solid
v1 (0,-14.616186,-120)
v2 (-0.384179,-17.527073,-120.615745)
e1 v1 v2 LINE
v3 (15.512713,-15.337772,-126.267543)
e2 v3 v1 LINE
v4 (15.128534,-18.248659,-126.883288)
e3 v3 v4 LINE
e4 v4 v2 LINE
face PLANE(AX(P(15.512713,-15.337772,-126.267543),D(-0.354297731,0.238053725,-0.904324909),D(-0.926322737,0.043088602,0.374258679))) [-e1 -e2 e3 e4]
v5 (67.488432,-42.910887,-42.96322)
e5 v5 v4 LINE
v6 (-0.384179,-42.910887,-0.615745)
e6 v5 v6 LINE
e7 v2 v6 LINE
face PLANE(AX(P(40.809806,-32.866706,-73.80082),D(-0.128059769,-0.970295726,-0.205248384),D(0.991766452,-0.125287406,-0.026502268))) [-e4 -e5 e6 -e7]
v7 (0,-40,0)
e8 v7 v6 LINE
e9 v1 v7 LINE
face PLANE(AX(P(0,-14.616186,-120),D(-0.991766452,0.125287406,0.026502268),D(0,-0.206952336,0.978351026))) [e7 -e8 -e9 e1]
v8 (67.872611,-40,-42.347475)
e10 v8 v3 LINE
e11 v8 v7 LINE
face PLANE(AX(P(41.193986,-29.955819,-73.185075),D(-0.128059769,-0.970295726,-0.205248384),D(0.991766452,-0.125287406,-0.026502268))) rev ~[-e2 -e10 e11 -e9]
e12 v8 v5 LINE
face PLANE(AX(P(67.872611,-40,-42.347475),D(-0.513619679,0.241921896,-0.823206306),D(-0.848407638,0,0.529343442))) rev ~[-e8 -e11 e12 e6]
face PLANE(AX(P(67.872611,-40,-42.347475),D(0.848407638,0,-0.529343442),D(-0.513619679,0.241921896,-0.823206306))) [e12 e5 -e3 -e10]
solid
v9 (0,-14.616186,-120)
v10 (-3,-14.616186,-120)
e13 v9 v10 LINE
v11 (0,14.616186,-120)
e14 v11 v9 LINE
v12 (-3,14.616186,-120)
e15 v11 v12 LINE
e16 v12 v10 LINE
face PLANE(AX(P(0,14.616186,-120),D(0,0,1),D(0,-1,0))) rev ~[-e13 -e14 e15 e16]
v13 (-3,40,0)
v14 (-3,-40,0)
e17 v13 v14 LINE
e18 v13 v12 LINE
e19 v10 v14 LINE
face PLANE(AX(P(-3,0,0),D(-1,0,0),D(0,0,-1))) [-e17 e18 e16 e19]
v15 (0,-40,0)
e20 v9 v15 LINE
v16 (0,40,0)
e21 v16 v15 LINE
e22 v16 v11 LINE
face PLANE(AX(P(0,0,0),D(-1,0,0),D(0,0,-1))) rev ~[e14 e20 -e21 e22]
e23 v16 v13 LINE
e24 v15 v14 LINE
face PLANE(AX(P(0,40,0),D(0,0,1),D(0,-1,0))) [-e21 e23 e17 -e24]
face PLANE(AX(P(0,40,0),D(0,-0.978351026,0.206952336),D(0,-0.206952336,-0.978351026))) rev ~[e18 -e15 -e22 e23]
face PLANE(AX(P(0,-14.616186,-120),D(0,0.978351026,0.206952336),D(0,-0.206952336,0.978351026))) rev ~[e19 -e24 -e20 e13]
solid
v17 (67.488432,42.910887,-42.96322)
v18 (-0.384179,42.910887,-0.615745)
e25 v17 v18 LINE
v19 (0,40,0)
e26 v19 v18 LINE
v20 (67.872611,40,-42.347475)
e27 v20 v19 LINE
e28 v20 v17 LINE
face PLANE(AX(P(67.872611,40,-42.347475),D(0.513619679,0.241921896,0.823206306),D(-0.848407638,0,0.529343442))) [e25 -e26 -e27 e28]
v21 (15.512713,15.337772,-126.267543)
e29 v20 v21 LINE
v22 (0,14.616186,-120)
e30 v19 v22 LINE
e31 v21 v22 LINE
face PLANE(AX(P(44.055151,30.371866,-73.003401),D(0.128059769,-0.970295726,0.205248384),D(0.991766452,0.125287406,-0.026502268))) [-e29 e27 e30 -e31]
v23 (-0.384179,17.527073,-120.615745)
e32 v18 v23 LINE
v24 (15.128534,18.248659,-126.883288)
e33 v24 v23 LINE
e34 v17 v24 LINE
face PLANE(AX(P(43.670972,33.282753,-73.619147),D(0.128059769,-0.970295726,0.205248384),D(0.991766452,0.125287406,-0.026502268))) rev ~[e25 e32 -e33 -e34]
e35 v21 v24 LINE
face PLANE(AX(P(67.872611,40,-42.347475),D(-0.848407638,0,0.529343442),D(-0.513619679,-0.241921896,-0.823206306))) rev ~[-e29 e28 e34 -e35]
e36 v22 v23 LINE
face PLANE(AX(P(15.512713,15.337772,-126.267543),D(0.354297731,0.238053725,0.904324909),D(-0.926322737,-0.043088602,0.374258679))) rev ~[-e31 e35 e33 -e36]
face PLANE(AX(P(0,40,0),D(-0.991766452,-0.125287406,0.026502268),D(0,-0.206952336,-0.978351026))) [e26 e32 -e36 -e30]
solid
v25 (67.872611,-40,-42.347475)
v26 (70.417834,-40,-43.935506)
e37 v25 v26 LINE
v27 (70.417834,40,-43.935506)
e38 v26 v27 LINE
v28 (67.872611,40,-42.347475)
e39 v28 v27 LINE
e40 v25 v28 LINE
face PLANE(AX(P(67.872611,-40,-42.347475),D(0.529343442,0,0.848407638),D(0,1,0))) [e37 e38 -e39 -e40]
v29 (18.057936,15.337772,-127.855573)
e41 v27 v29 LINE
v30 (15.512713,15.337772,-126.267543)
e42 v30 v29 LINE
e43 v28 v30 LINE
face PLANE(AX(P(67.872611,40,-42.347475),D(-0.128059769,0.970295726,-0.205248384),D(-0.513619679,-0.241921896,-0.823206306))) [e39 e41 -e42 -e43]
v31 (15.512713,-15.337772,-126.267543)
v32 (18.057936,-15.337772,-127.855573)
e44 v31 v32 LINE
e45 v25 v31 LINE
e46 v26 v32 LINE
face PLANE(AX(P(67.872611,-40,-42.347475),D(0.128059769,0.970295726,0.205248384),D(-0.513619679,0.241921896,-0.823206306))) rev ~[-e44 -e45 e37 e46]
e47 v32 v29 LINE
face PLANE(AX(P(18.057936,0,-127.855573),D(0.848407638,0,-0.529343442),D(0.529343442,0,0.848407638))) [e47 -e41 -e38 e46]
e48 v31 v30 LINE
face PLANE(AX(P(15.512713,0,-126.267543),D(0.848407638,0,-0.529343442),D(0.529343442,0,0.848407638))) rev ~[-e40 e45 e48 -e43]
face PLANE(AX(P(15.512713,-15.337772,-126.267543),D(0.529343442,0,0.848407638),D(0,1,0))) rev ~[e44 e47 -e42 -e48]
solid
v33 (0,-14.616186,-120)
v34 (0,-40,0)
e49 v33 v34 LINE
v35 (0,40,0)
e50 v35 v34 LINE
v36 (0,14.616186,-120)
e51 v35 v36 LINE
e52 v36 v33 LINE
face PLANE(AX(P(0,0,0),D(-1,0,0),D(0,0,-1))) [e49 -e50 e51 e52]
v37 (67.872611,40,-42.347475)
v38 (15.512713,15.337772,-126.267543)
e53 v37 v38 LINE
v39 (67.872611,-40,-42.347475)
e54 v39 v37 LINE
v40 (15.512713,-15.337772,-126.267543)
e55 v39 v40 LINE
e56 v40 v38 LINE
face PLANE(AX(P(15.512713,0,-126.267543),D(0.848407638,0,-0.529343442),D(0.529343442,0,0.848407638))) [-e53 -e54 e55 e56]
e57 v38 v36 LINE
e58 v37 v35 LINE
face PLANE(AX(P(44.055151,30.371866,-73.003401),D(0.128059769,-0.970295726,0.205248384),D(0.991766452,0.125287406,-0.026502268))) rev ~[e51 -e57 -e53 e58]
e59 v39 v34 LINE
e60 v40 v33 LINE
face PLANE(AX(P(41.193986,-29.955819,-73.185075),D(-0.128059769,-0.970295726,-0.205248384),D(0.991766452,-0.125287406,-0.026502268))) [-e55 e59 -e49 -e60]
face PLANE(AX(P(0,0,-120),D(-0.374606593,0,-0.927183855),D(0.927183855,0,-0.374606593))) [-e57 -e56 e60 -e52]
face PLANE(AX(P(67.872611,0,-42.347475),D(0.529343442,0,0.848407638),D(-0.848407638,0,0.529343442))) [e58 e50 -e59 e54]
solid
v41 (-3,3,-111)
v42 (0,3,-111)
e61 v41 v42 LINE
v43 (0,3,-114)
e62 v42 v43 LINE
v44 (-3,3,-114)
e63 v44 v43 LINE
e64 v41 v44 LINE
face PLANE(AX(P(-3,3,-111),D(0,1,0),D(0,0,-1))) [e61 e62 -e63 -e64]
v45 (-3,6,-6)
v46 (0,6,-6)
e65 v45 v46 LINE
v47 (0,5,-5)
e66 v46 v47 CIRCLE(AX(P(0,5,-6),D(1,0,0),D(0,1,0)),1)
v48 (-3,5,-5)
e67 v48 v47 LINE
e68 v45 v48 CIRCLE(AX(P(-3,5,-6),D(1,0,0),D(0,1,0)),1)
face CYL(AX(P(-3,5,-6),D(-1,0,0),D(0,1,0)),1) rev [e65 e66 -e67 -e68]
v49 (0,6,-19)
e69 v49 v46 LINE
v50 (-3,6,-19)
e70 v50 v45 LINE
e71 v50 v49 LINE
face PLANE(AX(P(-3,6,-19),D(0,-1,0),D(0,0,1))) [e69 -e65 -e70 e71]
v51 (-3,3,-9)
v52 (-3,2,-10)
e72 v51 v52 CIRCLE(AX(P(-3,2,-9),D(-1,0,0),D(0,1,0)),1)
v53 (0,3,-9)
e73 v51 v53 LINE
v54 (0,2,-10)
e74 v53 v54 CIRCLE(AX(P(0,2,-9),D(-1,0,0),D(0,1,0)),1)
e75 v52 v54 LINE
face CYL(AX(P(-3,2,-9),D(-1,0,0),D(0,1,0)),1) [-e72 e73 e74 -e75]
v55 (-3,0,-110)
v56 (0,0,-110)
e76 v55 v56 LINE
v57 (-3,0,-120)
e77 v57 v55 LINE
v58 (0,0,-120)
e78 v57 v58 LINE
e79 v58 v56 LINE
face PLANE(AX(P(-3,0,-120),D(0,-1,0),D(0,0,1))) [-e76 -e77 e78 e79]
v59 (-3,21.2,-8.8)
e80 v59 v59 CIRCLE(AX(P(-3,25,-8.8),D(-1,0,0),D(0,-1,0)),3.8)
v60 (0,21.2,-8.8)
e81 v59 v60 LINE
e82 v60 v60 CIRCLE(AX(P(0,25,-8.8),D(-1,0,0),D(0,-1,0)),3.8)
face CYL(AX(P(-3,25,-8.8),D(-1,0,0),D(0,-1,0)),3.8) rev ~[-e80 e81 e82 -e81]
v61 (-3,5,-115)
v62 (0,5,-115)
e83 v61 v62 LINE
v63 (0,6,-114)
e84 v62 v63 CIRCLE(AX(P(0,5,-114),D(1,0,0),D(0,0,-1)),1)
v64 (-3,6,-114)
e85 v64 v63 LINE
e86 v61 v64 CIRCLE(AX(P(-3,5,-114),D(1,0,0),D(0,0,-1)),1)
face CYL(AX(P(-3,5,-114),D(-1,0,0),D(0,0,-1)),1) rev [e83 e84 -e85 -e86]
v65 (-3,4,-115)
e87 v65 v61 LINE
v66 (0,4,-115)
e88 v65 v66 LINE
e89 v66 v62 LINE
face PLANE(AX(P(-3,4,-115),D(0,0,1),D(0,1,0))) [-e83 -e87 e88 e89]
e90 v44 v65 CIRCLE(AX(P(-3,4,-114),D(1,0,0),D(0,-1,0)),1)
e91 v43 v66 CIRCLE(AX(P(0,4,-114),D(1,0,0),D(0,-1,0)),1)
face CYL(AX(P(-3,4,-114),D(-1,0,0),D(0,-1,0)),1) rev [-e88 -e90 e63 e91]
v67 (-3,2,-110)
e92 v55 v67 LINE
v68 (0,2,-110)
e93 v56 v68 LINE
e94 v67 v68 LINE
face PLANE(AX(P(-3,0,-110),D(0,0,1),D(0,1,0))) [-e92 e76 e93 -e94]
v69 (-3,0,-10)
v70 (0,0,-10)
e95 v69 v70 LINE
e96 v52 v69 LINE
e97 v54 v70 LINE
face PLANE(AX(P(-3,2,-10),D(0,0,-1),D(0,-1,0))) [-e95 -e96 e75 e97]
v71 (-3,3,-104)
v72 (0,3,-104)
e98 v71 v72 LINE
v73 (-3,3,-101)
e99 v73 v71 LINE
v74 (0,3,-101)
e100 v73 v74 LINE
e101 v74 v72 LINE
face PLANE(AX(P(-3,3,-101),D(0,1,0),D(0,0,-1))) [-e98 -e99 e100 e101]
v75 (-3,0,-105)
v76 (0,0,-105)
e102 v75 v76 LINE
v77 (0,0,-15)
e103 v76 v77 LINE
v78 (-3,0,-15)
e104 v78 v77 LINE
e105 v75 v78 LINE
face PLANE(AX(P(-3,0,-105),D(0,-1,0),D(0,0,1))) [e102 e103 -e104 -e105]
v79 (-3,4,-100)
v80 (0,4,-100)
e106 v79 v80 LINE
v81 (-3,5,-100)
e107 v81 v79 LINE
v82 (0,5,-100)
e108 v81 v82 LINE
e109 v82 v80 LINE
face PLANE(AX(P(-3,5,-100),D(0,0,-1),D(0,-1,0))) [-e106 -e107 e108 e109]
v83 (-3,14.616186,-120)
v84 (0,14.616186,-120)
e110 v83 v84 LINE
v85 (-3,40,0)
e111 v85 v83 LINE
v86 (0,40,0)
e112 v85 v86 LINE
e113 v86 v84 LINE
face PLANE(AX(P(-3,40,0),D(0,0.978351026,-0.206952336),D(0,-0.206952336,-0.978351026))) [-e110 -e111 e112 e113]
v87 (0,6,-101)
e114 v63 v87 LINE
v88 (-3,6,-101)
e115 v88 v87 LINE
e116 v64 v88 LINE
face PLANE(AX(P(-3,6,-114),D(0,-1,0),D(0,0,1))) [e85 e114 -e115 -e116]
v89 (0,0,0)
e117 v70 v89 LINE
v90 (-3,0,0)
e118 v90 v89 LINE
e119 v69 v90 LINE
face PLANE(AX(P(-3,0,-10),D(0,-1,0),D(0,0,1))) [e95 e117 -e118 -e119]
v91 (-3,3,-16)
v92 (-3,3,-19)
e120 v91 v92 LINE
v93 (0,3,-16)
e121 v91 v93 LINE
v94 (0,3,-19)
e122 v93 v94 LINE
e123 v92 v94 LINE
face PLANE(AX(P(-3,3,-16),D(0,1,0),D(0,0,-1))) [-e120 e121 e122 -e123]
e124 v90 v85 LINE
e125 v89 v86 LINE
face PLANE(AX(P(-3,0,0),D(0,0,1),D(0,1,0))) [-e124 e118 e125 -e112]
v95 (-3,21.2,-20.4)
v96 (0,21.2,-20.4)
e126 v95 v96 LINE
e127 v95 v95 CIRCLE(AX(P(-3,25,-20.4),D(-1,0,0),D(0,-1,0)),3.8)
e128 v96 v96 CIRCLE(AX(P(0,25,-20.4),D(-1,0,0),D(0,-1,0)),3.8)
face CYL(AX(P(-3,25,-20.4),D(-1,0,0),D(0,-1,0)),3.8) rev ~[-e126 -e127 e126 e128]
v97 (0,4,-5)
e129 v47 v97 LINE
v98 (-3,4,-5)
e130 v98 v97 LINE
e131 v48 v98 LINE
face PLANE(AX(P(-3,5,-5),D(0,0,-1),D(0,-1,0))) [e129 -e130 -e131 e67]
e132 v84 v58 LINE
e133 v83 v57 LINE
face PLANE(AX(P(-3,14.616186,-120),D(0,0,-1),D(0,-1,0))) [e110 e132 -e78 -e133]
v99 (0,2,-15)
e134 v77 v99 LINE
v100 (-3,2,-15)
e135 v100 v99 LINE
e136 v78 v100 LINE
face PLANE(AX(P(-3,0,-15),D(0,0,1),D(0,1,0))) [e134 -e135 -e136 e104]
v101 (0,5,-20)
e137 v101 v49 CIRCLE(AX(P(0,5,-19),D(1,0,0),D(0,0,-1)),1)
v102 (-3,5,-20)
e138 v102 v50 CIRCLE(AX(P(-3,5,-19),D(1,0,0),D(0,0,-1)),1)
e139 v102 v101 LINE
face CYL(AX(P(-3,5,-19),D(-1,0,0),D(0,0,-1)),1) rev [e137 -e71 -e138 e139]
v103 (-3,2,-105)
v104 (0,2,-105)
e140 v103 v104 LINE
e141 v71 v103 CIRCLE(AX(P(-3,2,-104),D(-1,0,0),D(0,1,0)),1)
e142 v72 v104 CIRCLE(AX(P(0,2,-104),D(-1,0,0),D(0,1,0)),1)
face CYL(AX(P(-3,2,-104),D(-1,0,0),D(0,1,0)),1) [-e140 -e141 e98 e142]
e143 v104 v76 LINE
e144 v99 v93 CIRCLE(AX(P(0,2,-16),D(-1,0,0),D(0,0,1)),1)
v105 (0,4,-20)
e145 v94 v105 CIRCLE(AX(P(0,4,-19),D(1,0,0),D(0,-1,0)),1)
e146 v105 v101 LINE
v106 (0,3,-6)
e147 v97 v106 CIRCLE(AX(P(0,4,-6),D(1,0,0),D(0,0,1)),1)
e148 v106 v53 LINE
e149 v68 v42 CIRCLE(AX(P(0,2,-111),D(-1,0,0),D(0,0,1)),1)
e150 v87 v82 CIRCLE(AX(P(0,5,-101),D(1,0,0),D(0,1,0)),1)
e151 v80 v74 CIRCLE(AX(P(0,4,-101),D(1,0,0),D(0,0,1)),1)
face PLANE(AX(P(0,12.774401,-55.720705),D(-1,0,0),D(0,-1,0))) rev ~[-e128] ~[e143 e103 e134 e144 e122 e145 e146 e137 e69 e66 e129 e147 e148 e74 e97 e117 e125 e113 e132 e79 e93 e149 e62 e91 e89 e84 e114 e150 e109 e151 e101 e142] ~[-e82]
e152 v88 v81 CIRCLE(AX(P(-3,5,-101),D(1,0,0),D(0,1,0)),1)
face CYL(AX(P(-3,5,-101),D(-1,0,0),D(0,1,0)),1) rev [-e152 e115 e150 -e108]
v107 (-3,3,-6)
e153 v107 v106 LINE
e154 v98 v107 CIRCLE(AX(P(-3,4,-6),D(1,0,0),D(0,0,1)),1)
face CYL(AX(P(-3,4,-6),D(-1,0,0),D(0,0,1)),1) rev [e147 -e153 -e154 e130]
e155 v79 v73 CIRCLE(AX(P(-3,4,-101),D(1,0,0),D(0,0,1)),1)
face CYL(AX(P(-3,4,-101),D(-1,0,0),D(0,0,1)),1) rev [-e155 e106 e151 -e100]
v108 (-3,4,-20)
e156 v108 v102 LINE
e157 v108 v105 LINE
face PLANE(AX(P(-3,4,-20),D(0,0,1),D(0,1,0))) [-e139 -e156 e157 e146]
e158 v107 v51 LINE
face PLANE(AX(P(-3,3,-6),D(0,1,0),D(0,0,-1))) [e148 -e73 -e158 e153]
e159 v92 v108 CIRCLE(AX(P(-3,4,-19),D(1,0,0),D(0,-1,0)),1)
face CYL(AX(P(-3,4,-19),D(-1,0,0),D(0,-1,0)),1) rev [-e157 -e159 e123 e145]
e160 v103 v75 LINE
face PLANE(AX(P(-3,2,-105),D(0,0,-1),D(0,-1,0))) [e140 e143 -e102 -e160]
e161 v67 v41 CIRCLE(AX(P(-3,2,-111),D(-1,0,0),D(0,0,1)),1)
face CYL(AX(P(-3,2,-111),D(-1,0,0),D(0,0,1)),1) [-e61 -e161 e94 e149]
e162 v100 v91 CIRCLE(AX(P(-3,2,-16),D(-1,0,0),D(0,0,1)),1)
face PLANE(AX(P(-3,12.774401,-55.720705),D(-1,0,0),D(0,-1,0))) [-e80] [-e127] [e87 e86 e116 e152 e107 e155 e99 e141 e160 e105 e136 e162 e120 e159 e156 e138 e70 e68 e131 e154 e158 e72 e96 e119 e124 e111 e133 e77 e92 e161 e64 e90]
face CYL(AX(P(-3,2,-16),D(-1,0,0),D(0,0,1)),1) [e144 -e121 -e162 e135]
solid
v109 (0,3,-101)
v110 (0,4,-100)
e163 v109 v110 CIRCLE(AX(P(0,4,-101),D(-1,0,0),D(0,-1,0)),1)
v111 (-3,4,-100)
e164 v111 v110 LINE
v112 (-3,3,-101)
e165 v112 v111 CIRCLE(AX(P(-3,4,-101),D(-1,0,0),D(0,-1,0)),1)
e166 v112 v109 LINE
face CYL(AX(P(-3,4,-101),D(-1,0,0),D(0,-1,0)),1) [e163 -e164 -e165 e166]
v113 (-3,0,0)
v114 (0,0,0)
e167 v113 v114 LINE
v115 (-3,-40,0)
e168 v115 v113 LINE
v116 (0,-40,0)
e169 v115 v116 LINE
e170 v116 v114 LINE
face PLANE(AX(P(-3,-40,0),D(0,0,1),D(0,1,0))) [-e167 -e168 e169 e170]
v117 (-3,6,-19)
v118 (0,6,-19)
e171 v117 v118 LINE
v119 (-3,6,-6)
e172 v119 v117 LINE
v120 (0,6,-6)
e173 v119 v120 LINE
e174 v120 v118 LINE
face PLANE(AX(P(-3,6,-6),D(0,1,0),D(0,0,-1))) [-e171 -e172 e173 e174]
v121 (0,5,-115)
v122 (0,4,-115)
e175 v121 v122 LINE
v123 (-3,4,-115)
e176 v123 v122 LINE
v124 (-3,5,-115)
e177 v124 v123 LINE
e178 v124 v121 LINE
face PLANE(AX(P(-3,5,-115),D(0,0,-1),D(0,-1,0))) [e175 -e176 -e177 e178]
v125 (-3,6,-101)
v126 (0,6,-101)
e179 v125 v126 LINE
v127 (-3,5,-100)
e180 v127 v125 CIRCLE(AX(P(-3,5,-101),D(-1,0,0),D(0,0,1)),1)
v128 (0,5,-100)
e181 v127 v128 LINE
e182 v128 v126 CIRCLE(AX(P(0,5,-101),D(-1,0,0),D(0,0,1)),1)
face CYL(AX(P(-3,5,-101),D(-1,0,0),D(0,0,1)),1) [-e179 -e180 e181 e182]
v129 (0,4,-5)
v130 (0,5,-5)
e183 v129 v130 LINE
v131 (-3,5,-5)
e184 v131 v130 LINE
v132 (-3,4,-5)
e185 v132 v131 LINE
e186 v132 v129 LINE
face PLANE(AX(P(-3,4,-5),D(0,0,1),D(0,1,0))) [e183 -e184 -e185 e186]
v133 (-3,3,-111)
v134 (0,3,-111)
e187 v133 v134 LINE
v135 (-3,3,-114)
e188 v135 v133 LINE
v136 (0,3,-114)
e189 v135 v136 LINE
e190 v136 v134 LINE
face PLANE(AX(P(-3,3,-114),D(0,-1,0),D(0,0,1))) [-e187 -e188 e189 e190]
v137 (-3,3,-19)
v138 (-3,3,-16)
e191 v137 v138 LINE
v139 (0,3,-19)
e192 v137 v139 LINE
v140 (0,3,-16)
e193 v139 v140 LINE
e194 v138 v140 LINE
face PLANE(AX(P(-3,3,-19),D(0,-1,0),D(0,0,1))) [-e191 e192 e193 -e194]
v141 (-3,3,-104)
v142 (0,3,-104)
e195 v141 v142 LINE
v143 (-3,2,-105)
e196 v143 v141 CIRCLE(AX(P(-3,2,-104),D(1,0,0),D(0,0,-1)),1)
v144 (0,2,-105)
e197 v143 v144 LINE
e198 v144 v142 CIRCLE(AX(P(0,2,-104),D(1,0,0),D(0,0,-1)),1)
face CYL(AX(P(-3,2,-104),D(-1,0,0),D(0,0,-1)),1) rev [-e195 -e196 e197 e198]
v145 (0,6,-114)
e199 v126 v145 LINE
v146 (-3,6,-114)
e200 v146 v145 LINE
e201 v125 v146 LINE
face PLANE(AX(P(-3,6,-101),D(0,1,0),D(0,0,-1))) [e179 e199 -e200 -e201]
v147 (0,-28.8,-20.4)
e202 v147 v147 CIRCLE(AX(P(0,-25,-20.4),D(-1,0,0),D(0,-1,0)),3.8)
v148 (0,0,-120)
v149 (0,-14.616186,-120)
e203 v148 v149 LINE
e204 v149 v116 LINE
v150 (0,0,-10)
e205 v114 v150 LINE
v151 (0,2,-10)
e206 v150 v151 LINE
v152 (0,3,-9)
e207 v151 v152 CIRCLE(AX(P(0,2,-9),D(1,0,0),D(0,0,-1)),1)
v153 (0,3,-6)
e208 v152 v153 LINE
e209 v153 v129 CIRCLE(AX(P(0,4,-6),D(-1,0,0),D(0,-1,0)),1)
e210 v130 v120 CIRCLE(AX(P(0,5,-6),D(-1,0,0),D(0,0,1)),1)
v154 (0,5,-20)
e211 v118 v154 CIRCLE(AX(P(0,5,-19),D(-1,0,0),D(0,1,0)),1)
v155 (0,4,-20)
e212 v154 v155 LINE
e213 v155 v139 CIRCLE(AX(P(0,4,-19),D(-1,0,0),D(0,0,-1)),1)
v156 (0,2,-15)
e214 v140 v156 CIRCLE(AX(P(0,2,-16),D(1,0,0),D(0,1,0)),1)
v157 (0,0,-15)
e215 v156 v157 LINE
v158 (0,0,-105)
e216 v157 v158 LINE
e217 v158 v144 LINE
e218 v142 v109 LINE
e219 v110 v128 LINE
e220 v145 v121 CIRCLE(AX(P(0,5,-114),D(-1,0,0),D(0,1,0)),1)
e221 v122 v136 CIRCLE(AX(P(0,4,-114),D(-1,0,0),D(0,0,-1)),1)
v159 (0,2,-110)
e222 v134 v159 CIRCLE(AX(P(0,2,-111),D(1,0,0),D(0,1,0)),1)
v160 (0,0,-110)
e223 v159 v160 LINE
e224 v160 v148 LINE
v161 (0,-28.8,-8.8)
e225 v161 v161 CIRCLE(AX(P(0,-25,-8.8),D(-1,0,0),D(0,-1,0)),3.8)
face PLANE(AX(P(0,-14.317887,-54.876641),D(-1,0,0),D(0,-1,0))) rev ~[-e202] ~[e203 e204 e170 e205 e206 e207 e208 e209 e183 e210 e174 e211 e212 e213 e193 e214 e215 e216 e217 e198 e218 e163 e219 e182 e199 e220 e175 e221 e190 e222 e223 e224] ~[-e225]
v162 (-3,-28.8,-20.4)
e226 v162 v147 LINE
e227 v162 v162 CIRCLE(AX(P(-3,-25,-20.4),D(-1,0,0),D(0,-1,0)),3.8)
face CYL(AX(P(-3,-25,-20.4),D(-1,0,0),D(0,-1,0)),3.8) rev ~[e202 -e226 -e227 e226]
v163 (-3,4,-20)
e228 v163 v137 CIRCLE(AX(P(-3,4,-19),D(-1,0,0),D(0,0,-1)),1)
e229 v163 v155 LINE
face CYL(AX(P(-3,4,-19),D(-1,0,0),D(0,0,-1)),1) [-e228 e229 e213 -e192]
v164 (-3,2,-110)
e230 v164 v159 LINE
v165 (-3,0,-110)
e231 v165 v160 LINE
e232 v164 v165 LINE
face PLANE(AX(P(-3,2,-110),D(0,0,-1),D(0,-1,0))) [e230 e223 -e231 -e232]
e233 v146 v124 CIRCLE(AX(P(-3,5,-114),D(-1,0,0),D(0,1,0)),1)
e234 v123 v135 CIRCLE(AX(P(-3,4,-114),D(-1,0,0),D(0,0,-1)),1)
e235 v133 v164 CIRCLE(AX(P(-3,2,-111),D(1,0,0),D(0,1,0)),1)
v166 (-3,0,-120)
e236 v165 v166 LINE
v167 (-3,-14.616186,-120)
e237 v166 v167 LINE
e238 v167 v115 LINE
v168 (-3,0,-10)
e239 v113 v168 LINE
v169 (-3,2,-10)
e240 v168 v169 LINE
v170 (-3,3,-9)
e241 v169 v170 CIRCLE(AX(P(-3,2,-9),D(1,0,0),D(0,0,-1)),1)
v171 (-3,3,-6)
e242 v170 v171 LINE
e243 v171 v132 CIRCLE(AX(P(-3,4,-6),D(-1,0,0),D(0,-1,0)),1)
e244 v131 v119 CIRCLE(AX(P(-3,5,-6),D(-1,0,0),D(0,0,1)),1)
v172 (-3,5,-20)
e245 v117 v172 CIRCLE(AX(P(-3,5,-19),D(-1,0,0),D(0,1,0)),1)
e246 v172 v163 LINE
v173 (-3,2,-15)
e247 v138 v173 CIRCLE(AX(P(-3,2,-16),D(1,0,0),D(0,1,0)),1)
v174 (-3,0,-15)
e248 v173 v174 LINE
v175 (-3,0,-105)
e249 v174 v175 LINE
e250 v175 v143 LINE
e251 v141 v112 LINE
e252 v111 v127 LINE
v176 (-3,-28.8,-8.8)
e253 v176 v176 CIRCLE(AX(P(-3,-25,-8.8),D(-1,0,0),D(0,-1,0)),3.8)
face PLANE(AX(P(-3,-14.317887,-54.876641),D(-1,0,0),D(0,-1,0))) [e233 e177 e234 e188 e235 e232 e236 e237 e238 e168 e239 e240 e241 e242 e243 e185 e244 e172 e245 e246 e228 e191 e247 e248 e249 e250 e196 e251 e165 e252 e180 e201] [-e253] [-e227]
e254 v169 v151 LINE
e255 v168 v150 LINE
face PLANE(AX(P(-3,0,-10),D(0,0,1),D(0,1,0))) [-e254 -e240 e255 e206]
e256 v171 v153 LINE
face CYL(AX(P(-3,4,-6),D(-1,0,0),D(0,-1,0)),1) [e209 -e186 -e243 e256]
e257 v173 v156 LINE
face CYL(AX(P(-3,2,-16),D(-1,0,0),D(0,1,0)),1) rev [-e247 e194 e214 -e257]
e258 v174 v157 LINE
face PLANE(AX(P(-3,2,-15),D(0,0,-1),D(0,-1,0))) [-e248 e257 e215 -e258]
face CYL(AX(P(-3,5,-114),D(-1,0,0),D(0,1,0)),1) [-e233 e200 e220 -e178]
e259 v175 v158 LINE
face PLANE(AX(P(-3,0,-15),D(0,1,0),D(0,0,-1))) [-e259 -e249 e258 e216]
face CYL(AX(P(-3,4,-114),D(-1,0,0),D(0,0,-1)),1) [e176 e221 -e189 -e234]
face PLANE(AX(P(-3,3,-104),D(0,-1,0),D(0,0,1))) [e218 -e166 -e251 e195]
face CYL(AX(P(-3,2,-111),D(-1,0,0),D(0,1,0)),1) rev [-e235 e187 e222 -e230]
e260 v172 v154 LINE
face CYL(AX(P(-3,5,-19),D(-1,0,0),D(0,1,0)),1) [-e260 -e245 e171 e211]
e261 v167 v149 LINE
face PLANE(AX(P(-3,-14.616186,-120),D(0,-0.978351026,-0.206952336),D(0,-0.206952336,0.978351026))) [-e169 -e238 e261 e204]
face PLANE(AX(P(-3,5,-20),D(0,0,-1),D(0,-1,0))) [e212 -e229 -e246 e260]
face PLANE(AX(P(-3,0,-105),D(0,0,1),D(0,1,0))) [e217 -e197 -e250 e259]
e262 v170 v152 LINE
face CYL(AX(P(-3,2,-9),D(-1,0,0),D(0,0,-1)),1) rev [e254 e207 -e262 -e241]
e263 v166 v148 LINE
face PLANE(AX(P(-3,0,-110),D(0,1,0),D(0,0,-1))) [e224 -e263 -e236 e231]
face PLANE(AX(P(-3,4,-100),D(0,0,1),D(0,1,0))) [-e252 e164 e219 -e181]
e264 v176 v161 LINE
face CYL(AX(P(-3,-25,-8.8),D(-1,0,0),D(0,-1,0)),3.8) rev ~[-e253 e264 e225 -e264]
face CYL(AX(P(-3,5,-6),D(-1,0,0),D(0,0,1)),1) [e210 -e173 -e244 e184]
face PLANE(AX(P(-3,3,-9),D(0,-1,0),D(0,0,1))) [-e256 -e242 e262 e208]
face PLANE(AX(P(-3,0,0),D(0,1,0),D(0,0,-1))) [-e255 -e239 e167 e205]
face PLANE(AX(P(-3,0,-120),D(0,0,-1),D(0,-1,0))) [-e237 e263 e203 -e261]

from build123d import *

# Parameters (mm, degrees)
F4_DEPTH  = 40
F7_DEPTH  = 50
F10_DEPTH = 50
F11_DEPTH = 3
F12_DEPTH = 3
F13_DEPTH = 3
F14_DEPTH = 3
F15_R     = 3.8
F16_DEPTH = 3
F17_DEPTH = 3


with BuildPart() as f4:
    # F3 (on Front) → F4 (new body, symmetric)
    with BuildSketch(Plane.XZ):
        Polygon((67.8726110647, -42.3474753351), (0, 0), (0, -120), (15.5127130708, -126.2675429144), align=None)
    extrude(amount=F4_DEPTH, both=True)

    # F6 (on face) → F7 (cut)
    with BuildSketch(Plane(origin=(-4.9702338564, 37.6589518572, -7.9660651967), x_dir=(0.9917664521, 0.1252874063, -0.0265022683), z_dir=(0.1280597688, -0.9702957263, 0.2052483841))):
        Polygon((91.8436139113, 10.6302635931), (5.0114962506, 8.2780934425), (5.0114962506, -139.7075390252), (95.8494145084, -137.2468568995), align=None)
    extrude(amount=-F7_DEPTH, mode=Mode.SUBTRACT)

    # F9 (on face) → F10 (cut)
    with BuildSketch(Plane(origin=(-4.9702338564, -37.6589518572, -7.9660651967), x_dir=(0.9917664521, -0.1252874063, -0.0265022683), z_dir=(-0.1280597688, -0.9702957263, -0.2052483841))):
        Polygon((94.1713751602, 9.5739853333), (5.0114962506, 8.2780934425), (-8.5428429474, -135.8194760247), (96.262452346, -134.2961862453), align=None)
    extrude(amount=F10_DEPTH, mode=Mode.SUBTRACT)


with BuildPart() as f11:
    # F11 (new): a face of the model
    f11_faces = [f4.part.faces().sort_by_distance(p)[0] for p in [
        (23.4864853616, 30.1678668079, -61.1344676725),
    ]]
    extrude(f11_faces, amount=F11_DEPTH)


with BuildPart() as f12:
    # F12 (new): a face of the model
    f12_faces = [f4.part.faces().sort_by_distance(p)[0] for p in [
        (0, 0, -50.7046552919),
    ]]
    extrude(f12_faces, amount=F12_DEPTH)


with BuildPart() as f13:
    # F13 (new): a face of the model
    f13_faces = [f4.part.faces().sort_by_distance(p)[0] for p in [
        (23.4864853616, -30.1678668079, -61.1344676725),
    ]]
    extrude(f13_faces, amount=F13_DEPTH)


with BuildPart() as f14:
    # F14 (new): a face of the model
    f14_faces = [f4.part.faces().sort_by_distance(p)[0] for p in [
        (45.5818433529, 0, -78.0741059138),
    ]]
    extrude(f14_faces, amount=F14_DEPTH)


with BuildPart() as f16:
    # F15 (on face) → F16 (new body)
    with BuildSketch(Plane(origin=(-3, 0, 0), x_dir=(0, -1, 0), z_dir=(-1, 0, 0))):
        Polygon((0, -110), (0, -120), (14.6161861532, -120), (40, 0), (0, 0), (0, -10), (0, -15), (0, -105), align=None)
        with Locations((25, -20.4)):
            Circle(F15_R, mode=Mode.SUBTRACT)
        with Locations((25, -8.8)):
            Circle(F15_R, mode=Mode.SUBTRACT)
        with BuildLine():
            Line((-2, -15), (0, -15))
            Line((0, -15), (0, -10))
            Line((0, -10), (-2, -10))
            ThreePointArc((-2, -10), (-2.7071067812, -9.7071067812), (-3, -9))
            Line((-3, -9), (-3, -6))
            ThreePointArc((-3, -6), (-3.2928932188, -5.2928932188), (-4, -5))
            Line((-4, -5), (-5, -5))
            ThreePointArc((-5, -5), (-5.7071067812, -5.2928932188), (-6, -6))
            Line((-6, -6), (-6, -19))
            ThreePointArc((-6, -19), (-5.7071067812, -19.7071067812), (-5, -20))
            Line((-5, -20), (-4, -20))
            ThreePointArc((-4, -20), (-3.2928932188, -19.7071067812), (-3, -19))
            Line((-3, -19), (-3, -16))
            ThreePointArc((-3, -16), (-2.7071067812, -15.2928932188), (-2, -15))
        make_face()
        with BuildLine():
            Line((-2, -110), (0, -110))
            Line((0, -110), (0, -105))
            Line((0, -105), (-2, -105))
            ThreePointArc((-2, -105), (-2.7071067812, -104.7071067812), (-3, -104))
            Line((-3, -104), (-3, -101))
            ThreePointArc((-3, -101), (-3.2928932188, -100.2928932188), (-4, -100))
            Line((-4, -100), (-5, -100))
            ThreePointArc((-5, -100), (-5.7071067812, -100.2928932188), (-6, -101))
            Line((-6, -101), (-6, -114))
            ThreePointArc((-6, -114), (-5.7071067812, -114.7071067812), (-5, -115))
            Line((-5, -115), (-4, -115))
            ThreePointArc((-4, -115), (-3.2928932188, -114.7071067812), (-3, -114))
            Line((-3, -114), (-3, -111))
            ThreePointArc((-3, -111), (-2.7071067812, -110.2928932188), (-2, -110))
        make_face()
    extrude(amount=-F16_DEPTH)


with BuildPart() as f17:
    # F15 (on face) → F17 (new body)
    with BuildSketch(Plane(origin=(-3, 0, 0), x_dir=(0, -1, 0), z_dir=(-1, 0, 0))):
        with BuildLine():
            Line((-14.6161861532, -120), (0, -120))
            Line((0, -120), (0, -110))
            Line((0, -110), (-2, -110))
            ThreePointArc((-2, -110), (-2.7071067812, -110.2928932188), (-3, -111))
            Line((-3, -111), (-3, -114))
            ThreePointArc((-3, -114), (-3.2928932188, -114.7071067812), (-4, -115))
            Line((-4, -115), (-5, -115))
            ThreePointArc((-5, -115), (-5.7071067812, -114.7071067812), (-6, -114))
            Line((-6, -114), (-6, -101))
            ThreePointArc((-6, -101), (-5.7071067812, -100.2928932188), (-5, -100))
            Line((-5, -100), (-4, -100))
            ThreePointArc((-4, -100), (-3.2928932188, -100.2928932188), (-3, -101))
            Line((-3, -101), (-3, -104))
            ThreePointArc((-3, -104), (-2.7071067812, -104.7071067812), (-2, -105))
            Line((-2, -105), (0, -105))
            Line((0, -105), (0, -15))
            Line((0, -15), (-2, -15))
            ThreePointArc((-2, -15), (-2.7071067812, -15.2928932188), (-3, -16))
            Line((-3, -16), (-3, -19))
            ThreePointArc((-3, -19), (-3.2928932188, -19.7071067812), (-4, -20))
            Line((-4, -20), (-5, -20))
            ThreePointArc((-5, -20), (-5.7071067812, -19.7071067812), (-6, -19))
            Line((-6, -19), (-6, -6))
            ThreePointArc((-6, -6), (-5.7071067812, -5.2928932188), (-5, -5))
            Line((-5, -5), (-4, -5))
            ThreePointArc((-4, -5), (-3.2928932188, -5.2928932188), (-3, -6))
            Line((-3, -6), (-3, -9))
            ThreePointArc((-3, -9), (-2.7071067812, -9.7071067812), (-2, -10))
            Line((-2, -10), (0, -10))
            Line((0, -10), (0, 0))
            Line((0, 0), (-40, 0))
            Line((-40, 0), (-14.6161861532, -120))
        make_face()
        with Locations((-25, -20.4)):
            Circle(F15_R, mode=Mode.SUBTRACT)
        with Locations((-25, -8.8)):
            Circle(F15_R, mode=Mode.SUBTRACT)
    extrude(amount=-F17_DEPTH)


solid = Compound([f4.part, f11.part, f12.part, f13.part, f14.part, f16.part, f17.part])
